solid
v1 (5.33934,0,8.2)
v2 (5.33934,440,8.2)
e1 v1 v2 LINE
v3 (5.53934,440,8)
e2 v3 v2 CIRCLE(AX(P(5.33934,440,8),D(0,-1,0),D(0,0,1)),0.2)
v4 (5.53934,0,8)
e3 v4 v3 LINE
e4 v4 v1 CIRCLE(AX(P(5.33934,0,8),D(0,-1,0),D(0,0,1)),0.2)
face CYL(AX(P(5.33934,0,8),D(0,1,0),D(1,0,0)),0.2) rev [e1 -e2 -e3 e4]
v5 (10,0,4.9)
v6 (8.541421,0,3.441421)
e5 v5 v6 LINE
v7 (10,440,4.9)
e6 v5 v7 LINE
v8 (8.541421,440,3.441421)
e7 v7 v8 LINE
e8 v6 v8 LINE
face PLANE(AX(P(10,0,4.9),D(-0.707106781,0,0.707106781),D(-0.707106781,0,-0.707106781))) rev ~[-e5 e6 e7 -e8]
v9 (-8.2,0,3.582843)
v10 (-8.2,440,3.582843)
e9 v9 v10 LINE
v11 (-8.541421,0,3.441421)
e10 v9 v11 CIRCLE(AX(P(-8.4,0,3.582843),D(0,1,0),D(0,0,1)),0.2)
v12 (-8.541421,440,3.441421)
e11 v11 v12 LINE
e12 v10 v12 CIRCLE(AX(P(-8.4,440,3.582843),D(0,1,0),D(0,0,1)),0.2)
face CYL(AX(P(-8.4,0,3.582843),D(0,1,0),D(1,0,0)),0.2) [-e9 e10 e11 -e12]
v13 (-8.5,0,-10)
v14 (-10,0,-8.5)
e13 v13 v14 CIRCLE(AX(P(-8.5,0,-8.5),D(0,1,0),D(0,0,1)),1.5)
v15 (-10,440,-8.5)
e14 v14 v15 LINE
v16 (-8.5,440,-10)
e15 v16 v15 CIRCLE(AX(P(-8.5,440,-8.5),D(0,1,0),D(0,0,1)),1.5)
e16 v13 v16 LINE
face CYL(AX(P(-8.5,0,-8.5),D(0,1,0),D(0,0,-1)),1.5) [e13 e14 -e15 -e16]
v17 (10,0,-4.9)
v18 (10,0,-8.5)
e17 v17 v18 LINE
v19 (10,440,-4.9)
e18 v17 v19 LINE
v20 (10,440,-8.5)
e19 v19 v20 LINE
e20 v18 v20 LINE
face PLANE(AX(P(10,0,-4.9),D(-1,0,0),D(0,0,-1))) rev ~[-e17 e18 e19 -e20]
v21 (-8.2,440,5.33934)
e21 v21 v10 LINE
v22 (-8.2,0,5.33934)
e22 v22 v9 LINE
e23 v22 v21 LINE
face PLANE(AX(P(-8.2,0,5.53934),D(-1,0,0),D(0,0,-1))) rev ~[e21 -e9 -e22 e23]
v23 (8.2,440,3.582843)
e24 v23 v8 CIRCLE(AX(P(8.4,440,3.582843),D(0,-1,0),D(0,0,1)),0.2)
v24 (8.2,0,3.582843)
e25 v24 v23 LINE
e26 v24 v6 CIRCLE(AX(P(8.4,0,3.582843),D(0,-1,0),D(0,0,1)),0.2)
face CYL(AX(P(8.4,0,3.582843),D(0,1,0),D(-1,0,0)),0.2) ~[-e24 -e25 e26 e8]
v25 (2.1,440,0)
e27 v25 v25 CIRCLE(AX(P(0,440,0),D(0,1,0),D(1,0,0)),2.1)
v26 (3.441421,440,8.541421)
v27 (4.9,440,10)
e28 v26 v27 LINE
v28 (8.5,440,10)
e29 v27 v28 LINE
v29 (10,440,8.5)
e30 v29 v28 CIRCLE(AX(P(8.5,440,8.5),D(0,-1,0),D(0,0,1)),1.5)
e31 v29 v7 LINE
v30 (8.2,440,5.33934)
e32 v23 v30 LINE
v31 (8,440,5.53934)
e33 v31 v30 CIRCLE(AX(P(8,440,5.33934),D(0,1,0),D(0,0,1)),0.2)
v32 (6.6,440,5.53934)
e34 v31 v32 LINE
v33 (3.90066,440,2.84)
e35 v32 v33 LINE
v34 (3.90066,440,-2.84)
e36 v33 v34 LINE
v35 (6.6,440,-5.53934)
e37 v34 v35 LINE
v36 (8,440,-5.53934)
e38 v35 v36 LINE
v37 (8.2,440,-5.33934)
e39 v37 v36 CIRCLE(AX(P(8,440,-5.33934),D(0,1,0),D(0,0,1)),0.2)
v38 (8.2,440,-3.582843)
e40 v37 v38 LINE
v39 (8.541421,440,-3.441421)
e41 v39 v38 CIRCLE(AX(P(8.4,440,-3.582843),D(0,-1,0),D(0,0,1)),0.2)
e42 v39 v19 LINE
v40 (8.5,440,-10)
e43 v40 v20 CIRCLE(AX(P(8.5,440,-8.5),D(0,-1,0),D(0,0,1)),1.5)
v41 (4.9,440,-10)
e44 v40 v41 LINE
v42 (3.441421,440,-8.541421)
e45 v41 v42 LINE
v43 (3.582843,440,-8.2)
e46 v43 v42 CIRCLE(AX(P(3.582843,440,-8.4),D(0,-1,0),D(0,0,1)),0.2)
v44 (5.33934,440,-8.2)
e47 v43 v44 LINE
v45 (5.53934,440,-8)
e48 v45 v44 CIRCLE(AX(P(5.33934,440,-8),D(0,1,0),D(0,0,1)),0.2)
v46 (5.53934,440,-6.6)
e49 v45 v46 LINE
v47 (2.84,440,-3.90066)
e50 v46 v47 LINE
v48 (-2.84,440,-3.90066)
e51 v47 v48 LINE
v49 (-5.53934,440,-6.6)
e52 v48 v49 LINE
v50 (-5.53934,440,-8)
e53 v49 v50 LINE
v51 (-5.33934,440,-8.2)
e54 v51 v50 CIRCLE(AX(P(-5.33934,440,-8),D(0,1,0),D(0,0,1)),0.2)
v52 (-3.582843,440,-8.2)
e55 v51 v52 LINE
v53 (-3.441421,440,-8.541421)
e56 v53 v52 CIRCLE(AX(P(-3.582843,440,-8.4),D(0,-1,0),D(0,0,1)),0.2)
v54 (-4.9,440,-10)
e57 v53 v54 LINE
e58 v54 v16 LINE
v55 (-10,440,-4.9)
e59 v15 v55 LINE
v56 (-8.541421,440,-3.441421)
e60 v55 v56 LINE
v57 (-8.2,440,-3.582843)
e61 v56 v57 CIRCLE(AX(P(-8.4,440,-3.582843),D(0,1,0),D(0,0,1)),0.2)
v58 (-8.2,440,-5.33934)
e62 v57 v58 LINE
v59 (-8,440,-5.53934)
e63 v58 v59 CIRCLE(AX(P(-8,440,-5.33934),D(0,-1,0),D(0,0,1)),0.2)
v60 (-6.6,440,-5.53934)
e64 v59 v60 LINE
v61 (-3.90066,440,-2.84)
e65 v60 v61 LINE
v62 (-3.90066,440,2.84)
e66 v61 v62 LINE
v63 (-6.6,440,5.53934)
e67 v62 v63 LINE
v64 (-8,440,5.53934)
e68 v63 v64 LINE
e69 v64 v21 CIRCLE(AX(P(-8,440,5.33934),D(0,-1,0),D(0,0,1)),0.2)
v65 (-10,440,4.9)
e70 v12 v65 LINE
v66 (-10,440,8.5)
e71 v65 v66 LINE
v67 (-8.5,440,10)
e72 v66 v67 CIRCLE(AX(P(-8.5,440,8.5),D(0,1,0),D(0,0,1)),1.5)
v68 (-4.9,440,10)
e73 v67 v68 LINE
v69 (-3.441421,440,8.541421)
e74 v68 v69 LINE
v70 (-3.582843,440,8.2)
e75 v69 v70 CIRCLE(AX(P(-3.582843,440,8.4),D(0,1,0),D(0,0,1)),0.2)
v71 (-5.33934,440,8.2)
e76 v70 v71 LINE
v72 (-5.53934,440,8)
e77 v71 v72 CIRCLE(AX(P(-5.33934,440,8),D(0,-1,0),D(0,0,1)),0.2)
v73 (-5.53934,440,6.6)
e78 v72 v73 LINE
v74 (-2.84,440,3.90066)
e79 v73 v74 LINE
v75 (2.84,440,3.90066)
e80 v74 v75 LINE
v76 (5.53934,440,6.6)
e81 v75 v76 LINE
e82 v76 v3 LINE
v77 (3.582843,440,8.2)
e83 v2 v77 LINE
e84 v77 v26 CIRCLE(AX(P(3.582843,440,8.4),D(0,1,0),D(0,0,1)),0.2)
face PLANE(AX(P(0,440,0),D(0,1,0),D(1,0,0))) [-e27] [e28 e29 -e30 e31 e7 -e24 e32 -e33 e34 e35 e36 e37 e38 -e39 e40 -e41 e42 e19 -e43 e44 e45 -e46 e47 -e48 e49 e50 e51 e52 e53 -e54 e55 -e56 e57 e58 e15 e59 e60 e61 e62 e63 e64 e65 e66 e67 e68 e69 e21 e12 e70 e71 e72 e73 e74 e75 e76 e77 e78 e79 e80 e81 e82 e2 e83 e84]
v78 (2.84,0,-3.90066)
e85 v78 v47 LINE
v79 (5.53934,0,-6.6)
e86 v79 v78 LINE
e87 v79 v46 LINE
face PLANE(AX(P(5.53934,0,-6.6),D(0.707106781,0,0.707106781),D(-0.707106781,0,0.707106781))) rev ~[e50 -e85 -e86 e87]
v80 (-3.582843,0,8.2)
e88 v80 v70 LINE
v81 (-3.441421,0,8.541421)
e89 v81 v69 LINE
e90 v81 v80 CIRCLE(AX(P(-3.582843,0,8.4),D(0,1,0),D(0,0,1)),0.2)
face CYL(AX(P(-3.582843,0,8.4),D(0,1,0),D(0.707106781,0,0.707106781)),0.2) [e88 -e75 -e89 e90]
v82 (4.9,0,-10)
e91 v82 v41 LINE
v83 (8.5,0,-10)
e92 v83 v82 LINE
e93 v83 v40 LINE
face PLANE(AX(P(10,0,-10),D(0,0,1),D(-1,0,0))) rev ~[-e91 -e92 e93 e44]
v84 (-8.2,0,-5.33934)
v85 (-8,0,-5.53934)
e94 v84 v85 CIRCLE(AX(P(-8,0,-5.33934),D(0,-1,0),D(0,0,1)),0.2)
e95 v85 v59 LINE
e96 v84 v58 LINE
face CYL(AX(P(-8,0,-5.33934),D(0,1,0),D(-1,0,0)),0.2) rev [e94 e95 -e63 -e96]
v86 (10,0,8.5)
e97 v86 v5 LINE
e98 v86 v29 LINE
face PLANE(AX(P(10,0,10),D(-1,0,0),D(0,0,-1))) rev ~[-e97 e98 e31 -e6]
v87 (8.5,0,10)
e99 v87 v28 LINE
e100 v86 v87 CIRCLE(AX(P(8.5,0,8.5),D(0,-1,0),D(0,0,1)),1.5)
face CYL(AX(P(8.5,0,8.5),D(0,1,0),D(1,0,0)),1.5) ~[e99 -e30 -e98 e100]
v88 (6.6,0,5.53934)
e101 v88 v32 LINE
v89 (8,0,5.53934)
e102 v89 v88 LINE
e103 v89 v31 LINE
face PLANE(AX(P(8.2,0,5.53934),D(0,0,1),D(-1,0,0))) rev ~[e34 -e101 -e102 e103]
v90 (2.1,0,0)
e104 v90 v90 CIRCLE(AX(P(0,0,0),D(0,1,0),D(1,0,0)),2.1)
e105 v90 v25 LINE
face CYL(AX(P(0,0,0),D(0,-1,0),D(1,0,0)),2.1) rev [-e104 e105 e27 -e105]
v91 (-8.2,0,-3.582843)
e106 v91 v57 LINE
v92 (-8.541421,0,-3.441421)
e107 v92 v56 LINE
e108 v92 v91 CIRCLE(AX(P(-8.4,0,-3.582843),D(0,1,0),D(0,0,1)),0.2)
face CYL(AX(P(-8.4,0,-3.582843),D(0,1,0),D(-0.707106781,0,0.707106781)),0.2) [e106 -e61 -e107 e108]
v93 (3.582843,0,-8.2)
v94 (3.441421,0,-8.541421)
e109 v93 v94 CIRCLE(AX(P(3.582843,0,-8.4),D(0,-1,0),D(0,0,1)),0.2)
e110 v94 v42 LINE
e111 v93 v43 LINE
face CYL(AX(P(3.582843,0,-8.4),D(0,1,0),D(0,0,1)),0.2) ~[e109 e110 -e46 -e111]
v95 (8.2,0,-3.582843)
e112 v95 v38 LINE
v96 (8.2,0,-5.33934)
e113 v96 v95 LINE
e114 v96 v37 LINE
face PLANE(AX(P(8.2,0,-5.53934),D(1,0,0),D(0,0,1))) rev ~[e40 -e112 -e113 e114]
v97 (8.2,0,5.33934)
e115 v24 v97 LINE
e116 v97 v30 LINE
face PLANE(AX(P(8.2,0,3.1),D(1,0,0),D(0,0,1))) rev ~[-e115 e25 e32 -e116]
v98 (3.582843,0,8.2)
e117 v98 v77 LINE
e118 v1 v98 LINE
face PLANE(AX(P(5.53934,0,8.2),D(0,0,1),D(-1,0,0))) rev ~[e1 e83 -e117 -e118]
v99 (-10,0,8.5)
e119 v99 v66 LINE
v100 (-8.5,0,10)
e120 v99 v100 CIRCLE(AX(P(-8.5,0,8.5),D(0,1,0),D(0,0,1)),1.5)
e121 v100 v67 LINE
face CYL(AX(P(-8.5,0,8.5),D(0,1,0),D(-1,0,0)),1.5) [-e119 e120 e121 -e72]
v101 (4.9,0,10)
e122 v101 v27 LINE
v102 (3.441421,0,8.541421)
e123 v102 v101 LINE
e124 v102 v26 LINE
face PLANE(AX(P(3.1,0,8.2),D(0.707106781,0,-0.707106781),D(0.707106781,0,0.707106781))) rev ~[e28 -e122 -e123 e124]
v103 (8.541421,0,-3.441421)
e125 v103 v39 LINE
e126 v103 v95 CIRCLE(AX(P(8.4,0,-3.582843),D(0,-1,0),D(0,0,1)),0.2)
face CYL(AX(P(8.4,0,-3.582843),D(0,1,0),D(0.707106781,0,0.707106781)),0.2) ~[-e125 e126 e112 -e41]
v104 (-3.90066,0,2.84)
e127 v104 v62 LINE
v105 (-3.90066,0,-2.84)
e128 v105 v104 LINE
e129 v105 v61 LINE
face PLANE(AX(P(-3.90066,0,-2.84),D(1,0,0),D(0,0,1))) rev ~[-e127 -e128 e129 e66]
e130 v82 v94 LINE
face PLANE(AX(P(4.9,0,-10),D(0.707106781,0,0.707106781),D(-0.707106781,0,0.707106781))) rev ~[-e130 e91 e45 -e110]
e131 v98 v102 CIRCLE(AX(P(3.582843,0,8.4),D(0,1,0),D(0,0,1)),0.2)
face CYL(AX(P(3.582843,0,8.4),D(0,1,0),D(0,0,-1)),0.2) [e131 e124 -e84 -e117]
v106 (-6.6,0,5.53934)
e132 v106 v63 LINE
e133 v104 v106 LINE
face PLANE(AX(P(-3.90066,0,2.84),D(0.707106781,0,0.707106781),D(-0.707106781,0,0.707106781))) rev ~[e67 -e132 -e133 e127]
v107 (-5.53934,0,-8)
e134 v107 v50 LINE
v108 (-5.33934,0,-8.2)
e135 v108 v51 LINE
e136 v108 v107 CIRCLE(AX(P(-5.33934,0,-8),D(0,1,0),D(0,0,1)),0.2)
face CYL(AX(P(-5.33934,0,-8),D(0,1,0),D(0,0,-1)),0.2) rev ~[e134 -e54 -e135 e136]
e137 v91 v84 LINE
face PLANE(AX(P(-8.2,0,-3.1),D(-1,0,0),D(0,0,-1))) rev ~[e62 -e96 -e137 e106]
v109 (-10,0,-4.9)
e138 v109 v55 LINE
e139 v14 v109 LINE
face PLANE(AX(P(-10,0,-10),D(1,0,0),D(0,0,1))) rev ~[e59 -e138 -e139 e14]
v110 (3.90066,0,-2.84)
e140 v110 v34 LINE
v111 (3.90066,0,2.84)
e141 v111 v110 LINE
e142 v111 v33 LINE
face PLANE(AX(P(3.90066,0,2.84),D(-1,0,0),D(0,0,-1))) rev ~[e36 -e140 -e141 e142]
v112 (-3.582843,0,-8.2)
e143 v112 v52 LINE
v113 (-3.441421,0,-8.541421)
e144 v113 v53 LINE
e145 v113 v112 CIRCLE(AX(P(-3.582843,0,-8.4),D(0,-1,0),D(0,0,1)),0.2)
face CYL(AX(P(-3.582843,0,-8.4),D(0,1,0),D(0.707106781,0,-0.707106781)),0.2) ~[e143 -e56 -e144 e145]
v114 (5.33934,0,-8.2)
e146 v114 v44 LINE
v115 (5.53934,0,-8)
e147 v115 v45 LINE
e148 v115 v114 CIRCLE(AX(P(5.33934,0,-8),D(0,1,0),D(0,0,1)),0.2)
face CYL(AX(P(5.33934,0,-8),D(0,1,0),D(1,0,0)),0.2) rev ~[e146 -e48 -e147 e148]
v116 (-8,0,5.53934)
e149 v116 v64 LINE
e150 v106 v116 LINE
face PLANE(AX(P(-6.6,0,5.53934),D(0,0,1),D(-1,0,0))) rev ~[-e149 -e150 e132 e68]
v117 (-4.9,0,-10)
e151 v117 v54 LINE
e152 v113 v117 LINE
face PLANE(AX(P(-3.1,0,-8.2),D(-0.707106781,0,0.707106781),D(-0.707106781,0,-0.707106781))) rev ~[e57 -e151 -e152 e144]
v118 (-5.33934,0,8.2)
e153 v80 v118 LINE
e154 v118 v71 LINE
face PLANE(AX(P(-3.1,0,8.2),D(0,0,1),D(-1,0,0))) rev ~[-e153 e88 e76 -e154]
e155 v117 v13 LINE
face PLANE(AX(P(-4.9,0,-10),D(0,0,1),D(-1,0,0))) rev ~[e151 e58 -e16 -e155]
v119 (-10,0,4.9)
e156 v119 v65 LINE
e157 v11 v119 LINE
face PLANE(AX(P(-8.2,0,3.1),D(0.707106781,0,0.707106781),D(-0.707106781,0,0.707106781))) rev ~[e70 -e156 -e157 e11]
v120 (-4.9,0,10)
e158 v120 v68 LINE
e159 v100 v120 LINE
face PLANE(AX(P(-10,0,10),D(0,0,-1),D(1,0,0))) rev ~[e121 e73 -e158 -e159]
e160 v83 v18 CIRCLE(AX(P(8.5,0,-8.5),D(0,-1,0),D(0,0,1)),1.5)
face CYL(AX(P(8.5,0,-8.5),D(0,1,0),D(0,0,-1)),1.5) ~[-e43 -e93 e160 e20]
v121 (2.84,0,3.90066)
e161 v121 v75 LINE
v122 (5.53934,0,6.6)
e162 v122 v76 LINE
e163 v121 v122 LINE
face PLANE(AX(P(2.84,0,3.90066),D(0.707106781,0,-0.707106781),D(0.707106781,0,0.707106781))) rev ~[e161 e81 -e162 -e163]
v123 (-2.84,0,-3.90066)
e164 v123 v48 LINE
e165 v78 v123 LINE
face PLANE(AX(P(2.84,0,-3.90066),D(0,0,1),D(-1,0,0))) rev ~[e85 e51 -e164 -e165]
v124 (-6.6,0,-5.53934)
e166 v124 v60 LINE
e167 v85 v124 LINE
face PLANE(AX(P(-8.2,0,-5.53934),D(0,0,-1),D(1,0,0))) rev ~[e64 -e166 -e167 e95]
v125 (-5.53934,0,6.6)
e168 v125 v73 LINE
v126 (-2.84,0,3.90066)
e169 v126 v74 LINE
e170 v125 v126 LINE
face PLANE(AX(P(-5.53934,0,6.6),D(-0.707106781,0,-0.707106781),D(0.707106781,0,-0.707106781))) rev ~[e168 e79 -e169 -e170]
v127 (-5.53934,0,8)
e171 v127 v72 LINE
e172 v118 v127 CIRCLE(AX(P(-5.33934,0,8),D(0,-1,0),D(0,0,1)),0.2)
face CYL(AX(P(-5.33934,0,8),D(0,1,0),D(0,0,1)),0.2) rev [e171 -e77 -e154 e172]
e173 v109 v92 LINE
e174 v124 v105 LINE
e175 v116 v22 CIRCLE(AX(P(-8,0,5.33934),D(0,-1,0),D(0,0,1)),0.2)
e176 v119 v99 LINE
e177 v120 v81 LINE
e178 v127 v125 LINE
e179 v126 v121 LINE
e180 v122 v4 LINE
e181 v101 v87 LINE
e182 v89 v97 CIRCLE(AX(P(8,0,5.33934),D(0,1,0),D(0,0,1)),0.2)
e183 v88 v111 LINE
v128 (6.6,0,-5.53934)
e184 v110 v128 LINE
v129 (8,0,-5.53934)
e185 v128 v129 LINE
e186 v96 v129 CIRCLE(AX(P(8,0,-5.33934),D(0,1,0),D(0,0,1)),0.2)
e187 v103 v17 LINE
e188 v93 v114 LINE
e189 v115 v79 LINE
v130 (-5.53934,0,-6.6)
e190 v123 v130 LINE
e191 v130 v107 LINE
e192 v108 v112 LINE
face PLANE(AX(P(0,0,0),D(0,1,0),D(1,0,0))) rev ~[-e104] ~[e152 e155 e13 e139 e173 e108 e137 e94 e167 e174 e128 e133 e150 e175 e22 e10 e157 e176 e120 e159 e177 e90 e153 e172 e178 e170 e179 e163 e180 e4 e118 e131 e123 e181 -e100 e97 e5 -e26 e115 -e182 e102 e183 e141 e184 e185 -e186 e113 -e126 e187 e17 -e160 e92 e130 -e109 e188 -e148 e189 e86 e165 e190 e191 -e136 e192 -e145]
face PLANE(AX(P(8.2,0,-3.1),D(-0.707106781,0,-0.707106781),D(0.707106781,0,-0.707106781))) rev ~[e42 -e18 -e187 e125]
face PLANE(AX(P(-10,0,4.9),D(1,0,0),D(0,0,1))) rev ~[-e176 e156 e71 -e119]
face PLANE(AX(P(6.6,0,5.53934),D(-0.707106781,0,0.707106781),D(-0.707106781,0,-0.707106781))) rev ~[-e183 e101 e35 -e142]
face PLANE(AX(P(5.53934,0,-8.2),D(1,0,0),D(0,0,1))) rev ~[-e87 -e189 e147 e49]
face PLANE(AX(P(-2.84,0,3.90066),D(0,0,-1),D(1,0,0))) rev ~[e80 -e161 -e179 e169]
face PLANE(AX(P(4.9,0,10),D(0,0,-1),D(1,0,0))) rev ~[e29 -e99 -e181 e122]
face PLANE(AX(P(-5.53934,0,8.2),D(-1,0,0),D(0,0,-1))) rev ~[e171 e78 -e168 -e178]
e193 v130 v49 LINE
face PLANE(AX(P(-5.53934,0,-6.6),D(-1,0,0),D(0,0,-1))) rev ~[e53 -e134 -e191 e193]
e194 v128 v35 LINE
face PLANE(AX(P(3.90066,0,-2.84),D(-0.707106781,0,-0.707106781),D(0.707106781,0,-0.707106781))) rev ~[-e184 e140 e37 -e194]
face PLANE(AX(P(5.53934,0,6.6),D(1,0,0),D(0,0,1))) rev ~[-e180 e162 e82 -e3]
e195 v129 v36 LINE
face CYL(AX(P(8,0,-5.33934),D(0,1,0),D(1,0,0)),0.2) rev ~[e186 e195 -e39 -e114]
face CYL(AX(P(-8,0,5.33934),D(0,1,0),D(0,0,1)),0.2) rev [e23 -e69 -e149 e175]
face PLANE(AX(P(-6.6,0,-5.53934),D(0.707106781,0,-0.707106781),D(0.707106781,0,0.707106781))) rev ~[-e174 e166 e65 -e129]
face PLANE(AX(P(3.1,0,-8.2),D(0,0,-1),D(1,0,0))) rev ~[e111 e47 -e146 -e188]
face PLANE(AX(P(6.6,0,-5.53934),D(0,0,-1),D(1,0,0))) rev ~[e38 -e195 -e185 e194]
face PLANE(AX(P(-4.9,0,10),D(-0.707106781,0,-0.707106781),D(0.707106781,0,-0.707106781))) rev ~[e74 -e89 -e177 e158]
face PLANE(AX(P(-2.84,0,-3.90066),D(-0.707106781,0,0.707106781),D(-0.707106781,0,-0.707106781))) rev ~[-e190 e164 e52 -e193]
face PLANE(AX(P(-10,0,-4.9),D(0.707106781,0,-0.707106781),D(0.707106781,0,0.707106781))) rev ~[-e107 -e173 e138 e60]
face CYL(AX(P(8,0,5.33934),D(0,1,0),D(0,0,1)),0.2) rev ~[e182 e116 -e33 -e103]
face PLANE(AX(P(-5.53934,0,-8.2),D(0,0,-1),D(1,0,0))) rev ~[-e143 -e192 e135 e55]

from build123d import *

# Parameters (mm, degrees)
CROQUIS1_R              = 2.1
SALIENTE_EXTRUIR1_DEPTH = 440
REDONDEO1_R             = 1.5
REDONDEO2_R             = 0.2


with BuildPart() as part:
    # Croquis1 → Saliente-Extruir1 (new body)
    with BuildSketch(Plane(origin=(0, 0, 0), x_dir=(1, 0, 0), z_dir=(0, 1, 0))):
        Polygon((-4.9, 10), (-10, 10), (-10, 4.9), (-8.2, 3.1), (-8.2, 5.539339828), (-6.6, 5.539339828), (-3.900660172, 2.84), (-3.900660172, -2.84), (-6.6, -5.539339828), (-8.2, -5.539339828), (-8.2, -3.1), (-10, -4.9), (-10, -10), (-4.9, -10), (-3.1, -8.2), (-5.539339828, -8.2), (-5.539339828, -6.6), (-2.84, -3.900660172), (2.84, -3.900660172), (5.539339828, -6.6), (5.539339828, -8.2), (3.1, -8.2), (4.9, -10), (10, -10), (10, -4.9), (8.2, -3.1), (8.2, -5.539339828), (6.6, -5.539339828), (3.900660172, -2.84), (3.900660172, 2.84), (6.6, 5.539339828), (8.2, 5.539339828), (8.2, 3.1), (10, 4.9), (10, 10), (4.9, 10), (3.1, 8.2), (5.539339828, 8.2), (5.539339828, 6.6), (2.84, 3.900660172), (-2.84, 3.900660172), (-5.539339828, 6.6), (-5.539339828, 8.2), (-3.1, 8.2), align=None)
        Circle(CROQUIS1_R, mode=Mode.SUBTRACT)
    extrude(amount=SALIENTE_EXTRUIR1_DEPTH)

    # Redondeo1
    redondeo1_edges = [part.edges().sort_by_distance(p)[0] for p in [
        (10, 220, 10),
        (-10, 220, 10),
        (-10, 220, -10),
        (10, 220, -10),
    ]]
    fillet(redondeo1_edges, radius=REDONDEO1_R)

    # Redondeo2
    redondeo2_edges = [part.edges().sort_by_distance(p)[0] for p in [
        (-5.539339828, 220, 8.2),
        (5.539339828, 220, 8.2),
        (8.2, 220, 5.539339828),
        (8.2, 220, -5.539339828),
        (5.539339828, 220, -8.2),
        (-5.539339828, 220, -8.2),
        (-8.2, 220, -5.539339828),
        (-8.2, 220, 5.539339828),
        (3.1, 220, 8.2),
        (-3.1, 220, 8.2),
        (8.2, 220, 3.1),
        (8.2, 220, -3.1),
        (3.1, 220, -8.2),
        (-3.1, 220, -8.2),
        (-8.2, 220, -3.1),
        (-8.2, 220, 3.1),
    ]]
    fillet(redondeo2_edges, radius=REDONDEO2_R)


solid = part.part
